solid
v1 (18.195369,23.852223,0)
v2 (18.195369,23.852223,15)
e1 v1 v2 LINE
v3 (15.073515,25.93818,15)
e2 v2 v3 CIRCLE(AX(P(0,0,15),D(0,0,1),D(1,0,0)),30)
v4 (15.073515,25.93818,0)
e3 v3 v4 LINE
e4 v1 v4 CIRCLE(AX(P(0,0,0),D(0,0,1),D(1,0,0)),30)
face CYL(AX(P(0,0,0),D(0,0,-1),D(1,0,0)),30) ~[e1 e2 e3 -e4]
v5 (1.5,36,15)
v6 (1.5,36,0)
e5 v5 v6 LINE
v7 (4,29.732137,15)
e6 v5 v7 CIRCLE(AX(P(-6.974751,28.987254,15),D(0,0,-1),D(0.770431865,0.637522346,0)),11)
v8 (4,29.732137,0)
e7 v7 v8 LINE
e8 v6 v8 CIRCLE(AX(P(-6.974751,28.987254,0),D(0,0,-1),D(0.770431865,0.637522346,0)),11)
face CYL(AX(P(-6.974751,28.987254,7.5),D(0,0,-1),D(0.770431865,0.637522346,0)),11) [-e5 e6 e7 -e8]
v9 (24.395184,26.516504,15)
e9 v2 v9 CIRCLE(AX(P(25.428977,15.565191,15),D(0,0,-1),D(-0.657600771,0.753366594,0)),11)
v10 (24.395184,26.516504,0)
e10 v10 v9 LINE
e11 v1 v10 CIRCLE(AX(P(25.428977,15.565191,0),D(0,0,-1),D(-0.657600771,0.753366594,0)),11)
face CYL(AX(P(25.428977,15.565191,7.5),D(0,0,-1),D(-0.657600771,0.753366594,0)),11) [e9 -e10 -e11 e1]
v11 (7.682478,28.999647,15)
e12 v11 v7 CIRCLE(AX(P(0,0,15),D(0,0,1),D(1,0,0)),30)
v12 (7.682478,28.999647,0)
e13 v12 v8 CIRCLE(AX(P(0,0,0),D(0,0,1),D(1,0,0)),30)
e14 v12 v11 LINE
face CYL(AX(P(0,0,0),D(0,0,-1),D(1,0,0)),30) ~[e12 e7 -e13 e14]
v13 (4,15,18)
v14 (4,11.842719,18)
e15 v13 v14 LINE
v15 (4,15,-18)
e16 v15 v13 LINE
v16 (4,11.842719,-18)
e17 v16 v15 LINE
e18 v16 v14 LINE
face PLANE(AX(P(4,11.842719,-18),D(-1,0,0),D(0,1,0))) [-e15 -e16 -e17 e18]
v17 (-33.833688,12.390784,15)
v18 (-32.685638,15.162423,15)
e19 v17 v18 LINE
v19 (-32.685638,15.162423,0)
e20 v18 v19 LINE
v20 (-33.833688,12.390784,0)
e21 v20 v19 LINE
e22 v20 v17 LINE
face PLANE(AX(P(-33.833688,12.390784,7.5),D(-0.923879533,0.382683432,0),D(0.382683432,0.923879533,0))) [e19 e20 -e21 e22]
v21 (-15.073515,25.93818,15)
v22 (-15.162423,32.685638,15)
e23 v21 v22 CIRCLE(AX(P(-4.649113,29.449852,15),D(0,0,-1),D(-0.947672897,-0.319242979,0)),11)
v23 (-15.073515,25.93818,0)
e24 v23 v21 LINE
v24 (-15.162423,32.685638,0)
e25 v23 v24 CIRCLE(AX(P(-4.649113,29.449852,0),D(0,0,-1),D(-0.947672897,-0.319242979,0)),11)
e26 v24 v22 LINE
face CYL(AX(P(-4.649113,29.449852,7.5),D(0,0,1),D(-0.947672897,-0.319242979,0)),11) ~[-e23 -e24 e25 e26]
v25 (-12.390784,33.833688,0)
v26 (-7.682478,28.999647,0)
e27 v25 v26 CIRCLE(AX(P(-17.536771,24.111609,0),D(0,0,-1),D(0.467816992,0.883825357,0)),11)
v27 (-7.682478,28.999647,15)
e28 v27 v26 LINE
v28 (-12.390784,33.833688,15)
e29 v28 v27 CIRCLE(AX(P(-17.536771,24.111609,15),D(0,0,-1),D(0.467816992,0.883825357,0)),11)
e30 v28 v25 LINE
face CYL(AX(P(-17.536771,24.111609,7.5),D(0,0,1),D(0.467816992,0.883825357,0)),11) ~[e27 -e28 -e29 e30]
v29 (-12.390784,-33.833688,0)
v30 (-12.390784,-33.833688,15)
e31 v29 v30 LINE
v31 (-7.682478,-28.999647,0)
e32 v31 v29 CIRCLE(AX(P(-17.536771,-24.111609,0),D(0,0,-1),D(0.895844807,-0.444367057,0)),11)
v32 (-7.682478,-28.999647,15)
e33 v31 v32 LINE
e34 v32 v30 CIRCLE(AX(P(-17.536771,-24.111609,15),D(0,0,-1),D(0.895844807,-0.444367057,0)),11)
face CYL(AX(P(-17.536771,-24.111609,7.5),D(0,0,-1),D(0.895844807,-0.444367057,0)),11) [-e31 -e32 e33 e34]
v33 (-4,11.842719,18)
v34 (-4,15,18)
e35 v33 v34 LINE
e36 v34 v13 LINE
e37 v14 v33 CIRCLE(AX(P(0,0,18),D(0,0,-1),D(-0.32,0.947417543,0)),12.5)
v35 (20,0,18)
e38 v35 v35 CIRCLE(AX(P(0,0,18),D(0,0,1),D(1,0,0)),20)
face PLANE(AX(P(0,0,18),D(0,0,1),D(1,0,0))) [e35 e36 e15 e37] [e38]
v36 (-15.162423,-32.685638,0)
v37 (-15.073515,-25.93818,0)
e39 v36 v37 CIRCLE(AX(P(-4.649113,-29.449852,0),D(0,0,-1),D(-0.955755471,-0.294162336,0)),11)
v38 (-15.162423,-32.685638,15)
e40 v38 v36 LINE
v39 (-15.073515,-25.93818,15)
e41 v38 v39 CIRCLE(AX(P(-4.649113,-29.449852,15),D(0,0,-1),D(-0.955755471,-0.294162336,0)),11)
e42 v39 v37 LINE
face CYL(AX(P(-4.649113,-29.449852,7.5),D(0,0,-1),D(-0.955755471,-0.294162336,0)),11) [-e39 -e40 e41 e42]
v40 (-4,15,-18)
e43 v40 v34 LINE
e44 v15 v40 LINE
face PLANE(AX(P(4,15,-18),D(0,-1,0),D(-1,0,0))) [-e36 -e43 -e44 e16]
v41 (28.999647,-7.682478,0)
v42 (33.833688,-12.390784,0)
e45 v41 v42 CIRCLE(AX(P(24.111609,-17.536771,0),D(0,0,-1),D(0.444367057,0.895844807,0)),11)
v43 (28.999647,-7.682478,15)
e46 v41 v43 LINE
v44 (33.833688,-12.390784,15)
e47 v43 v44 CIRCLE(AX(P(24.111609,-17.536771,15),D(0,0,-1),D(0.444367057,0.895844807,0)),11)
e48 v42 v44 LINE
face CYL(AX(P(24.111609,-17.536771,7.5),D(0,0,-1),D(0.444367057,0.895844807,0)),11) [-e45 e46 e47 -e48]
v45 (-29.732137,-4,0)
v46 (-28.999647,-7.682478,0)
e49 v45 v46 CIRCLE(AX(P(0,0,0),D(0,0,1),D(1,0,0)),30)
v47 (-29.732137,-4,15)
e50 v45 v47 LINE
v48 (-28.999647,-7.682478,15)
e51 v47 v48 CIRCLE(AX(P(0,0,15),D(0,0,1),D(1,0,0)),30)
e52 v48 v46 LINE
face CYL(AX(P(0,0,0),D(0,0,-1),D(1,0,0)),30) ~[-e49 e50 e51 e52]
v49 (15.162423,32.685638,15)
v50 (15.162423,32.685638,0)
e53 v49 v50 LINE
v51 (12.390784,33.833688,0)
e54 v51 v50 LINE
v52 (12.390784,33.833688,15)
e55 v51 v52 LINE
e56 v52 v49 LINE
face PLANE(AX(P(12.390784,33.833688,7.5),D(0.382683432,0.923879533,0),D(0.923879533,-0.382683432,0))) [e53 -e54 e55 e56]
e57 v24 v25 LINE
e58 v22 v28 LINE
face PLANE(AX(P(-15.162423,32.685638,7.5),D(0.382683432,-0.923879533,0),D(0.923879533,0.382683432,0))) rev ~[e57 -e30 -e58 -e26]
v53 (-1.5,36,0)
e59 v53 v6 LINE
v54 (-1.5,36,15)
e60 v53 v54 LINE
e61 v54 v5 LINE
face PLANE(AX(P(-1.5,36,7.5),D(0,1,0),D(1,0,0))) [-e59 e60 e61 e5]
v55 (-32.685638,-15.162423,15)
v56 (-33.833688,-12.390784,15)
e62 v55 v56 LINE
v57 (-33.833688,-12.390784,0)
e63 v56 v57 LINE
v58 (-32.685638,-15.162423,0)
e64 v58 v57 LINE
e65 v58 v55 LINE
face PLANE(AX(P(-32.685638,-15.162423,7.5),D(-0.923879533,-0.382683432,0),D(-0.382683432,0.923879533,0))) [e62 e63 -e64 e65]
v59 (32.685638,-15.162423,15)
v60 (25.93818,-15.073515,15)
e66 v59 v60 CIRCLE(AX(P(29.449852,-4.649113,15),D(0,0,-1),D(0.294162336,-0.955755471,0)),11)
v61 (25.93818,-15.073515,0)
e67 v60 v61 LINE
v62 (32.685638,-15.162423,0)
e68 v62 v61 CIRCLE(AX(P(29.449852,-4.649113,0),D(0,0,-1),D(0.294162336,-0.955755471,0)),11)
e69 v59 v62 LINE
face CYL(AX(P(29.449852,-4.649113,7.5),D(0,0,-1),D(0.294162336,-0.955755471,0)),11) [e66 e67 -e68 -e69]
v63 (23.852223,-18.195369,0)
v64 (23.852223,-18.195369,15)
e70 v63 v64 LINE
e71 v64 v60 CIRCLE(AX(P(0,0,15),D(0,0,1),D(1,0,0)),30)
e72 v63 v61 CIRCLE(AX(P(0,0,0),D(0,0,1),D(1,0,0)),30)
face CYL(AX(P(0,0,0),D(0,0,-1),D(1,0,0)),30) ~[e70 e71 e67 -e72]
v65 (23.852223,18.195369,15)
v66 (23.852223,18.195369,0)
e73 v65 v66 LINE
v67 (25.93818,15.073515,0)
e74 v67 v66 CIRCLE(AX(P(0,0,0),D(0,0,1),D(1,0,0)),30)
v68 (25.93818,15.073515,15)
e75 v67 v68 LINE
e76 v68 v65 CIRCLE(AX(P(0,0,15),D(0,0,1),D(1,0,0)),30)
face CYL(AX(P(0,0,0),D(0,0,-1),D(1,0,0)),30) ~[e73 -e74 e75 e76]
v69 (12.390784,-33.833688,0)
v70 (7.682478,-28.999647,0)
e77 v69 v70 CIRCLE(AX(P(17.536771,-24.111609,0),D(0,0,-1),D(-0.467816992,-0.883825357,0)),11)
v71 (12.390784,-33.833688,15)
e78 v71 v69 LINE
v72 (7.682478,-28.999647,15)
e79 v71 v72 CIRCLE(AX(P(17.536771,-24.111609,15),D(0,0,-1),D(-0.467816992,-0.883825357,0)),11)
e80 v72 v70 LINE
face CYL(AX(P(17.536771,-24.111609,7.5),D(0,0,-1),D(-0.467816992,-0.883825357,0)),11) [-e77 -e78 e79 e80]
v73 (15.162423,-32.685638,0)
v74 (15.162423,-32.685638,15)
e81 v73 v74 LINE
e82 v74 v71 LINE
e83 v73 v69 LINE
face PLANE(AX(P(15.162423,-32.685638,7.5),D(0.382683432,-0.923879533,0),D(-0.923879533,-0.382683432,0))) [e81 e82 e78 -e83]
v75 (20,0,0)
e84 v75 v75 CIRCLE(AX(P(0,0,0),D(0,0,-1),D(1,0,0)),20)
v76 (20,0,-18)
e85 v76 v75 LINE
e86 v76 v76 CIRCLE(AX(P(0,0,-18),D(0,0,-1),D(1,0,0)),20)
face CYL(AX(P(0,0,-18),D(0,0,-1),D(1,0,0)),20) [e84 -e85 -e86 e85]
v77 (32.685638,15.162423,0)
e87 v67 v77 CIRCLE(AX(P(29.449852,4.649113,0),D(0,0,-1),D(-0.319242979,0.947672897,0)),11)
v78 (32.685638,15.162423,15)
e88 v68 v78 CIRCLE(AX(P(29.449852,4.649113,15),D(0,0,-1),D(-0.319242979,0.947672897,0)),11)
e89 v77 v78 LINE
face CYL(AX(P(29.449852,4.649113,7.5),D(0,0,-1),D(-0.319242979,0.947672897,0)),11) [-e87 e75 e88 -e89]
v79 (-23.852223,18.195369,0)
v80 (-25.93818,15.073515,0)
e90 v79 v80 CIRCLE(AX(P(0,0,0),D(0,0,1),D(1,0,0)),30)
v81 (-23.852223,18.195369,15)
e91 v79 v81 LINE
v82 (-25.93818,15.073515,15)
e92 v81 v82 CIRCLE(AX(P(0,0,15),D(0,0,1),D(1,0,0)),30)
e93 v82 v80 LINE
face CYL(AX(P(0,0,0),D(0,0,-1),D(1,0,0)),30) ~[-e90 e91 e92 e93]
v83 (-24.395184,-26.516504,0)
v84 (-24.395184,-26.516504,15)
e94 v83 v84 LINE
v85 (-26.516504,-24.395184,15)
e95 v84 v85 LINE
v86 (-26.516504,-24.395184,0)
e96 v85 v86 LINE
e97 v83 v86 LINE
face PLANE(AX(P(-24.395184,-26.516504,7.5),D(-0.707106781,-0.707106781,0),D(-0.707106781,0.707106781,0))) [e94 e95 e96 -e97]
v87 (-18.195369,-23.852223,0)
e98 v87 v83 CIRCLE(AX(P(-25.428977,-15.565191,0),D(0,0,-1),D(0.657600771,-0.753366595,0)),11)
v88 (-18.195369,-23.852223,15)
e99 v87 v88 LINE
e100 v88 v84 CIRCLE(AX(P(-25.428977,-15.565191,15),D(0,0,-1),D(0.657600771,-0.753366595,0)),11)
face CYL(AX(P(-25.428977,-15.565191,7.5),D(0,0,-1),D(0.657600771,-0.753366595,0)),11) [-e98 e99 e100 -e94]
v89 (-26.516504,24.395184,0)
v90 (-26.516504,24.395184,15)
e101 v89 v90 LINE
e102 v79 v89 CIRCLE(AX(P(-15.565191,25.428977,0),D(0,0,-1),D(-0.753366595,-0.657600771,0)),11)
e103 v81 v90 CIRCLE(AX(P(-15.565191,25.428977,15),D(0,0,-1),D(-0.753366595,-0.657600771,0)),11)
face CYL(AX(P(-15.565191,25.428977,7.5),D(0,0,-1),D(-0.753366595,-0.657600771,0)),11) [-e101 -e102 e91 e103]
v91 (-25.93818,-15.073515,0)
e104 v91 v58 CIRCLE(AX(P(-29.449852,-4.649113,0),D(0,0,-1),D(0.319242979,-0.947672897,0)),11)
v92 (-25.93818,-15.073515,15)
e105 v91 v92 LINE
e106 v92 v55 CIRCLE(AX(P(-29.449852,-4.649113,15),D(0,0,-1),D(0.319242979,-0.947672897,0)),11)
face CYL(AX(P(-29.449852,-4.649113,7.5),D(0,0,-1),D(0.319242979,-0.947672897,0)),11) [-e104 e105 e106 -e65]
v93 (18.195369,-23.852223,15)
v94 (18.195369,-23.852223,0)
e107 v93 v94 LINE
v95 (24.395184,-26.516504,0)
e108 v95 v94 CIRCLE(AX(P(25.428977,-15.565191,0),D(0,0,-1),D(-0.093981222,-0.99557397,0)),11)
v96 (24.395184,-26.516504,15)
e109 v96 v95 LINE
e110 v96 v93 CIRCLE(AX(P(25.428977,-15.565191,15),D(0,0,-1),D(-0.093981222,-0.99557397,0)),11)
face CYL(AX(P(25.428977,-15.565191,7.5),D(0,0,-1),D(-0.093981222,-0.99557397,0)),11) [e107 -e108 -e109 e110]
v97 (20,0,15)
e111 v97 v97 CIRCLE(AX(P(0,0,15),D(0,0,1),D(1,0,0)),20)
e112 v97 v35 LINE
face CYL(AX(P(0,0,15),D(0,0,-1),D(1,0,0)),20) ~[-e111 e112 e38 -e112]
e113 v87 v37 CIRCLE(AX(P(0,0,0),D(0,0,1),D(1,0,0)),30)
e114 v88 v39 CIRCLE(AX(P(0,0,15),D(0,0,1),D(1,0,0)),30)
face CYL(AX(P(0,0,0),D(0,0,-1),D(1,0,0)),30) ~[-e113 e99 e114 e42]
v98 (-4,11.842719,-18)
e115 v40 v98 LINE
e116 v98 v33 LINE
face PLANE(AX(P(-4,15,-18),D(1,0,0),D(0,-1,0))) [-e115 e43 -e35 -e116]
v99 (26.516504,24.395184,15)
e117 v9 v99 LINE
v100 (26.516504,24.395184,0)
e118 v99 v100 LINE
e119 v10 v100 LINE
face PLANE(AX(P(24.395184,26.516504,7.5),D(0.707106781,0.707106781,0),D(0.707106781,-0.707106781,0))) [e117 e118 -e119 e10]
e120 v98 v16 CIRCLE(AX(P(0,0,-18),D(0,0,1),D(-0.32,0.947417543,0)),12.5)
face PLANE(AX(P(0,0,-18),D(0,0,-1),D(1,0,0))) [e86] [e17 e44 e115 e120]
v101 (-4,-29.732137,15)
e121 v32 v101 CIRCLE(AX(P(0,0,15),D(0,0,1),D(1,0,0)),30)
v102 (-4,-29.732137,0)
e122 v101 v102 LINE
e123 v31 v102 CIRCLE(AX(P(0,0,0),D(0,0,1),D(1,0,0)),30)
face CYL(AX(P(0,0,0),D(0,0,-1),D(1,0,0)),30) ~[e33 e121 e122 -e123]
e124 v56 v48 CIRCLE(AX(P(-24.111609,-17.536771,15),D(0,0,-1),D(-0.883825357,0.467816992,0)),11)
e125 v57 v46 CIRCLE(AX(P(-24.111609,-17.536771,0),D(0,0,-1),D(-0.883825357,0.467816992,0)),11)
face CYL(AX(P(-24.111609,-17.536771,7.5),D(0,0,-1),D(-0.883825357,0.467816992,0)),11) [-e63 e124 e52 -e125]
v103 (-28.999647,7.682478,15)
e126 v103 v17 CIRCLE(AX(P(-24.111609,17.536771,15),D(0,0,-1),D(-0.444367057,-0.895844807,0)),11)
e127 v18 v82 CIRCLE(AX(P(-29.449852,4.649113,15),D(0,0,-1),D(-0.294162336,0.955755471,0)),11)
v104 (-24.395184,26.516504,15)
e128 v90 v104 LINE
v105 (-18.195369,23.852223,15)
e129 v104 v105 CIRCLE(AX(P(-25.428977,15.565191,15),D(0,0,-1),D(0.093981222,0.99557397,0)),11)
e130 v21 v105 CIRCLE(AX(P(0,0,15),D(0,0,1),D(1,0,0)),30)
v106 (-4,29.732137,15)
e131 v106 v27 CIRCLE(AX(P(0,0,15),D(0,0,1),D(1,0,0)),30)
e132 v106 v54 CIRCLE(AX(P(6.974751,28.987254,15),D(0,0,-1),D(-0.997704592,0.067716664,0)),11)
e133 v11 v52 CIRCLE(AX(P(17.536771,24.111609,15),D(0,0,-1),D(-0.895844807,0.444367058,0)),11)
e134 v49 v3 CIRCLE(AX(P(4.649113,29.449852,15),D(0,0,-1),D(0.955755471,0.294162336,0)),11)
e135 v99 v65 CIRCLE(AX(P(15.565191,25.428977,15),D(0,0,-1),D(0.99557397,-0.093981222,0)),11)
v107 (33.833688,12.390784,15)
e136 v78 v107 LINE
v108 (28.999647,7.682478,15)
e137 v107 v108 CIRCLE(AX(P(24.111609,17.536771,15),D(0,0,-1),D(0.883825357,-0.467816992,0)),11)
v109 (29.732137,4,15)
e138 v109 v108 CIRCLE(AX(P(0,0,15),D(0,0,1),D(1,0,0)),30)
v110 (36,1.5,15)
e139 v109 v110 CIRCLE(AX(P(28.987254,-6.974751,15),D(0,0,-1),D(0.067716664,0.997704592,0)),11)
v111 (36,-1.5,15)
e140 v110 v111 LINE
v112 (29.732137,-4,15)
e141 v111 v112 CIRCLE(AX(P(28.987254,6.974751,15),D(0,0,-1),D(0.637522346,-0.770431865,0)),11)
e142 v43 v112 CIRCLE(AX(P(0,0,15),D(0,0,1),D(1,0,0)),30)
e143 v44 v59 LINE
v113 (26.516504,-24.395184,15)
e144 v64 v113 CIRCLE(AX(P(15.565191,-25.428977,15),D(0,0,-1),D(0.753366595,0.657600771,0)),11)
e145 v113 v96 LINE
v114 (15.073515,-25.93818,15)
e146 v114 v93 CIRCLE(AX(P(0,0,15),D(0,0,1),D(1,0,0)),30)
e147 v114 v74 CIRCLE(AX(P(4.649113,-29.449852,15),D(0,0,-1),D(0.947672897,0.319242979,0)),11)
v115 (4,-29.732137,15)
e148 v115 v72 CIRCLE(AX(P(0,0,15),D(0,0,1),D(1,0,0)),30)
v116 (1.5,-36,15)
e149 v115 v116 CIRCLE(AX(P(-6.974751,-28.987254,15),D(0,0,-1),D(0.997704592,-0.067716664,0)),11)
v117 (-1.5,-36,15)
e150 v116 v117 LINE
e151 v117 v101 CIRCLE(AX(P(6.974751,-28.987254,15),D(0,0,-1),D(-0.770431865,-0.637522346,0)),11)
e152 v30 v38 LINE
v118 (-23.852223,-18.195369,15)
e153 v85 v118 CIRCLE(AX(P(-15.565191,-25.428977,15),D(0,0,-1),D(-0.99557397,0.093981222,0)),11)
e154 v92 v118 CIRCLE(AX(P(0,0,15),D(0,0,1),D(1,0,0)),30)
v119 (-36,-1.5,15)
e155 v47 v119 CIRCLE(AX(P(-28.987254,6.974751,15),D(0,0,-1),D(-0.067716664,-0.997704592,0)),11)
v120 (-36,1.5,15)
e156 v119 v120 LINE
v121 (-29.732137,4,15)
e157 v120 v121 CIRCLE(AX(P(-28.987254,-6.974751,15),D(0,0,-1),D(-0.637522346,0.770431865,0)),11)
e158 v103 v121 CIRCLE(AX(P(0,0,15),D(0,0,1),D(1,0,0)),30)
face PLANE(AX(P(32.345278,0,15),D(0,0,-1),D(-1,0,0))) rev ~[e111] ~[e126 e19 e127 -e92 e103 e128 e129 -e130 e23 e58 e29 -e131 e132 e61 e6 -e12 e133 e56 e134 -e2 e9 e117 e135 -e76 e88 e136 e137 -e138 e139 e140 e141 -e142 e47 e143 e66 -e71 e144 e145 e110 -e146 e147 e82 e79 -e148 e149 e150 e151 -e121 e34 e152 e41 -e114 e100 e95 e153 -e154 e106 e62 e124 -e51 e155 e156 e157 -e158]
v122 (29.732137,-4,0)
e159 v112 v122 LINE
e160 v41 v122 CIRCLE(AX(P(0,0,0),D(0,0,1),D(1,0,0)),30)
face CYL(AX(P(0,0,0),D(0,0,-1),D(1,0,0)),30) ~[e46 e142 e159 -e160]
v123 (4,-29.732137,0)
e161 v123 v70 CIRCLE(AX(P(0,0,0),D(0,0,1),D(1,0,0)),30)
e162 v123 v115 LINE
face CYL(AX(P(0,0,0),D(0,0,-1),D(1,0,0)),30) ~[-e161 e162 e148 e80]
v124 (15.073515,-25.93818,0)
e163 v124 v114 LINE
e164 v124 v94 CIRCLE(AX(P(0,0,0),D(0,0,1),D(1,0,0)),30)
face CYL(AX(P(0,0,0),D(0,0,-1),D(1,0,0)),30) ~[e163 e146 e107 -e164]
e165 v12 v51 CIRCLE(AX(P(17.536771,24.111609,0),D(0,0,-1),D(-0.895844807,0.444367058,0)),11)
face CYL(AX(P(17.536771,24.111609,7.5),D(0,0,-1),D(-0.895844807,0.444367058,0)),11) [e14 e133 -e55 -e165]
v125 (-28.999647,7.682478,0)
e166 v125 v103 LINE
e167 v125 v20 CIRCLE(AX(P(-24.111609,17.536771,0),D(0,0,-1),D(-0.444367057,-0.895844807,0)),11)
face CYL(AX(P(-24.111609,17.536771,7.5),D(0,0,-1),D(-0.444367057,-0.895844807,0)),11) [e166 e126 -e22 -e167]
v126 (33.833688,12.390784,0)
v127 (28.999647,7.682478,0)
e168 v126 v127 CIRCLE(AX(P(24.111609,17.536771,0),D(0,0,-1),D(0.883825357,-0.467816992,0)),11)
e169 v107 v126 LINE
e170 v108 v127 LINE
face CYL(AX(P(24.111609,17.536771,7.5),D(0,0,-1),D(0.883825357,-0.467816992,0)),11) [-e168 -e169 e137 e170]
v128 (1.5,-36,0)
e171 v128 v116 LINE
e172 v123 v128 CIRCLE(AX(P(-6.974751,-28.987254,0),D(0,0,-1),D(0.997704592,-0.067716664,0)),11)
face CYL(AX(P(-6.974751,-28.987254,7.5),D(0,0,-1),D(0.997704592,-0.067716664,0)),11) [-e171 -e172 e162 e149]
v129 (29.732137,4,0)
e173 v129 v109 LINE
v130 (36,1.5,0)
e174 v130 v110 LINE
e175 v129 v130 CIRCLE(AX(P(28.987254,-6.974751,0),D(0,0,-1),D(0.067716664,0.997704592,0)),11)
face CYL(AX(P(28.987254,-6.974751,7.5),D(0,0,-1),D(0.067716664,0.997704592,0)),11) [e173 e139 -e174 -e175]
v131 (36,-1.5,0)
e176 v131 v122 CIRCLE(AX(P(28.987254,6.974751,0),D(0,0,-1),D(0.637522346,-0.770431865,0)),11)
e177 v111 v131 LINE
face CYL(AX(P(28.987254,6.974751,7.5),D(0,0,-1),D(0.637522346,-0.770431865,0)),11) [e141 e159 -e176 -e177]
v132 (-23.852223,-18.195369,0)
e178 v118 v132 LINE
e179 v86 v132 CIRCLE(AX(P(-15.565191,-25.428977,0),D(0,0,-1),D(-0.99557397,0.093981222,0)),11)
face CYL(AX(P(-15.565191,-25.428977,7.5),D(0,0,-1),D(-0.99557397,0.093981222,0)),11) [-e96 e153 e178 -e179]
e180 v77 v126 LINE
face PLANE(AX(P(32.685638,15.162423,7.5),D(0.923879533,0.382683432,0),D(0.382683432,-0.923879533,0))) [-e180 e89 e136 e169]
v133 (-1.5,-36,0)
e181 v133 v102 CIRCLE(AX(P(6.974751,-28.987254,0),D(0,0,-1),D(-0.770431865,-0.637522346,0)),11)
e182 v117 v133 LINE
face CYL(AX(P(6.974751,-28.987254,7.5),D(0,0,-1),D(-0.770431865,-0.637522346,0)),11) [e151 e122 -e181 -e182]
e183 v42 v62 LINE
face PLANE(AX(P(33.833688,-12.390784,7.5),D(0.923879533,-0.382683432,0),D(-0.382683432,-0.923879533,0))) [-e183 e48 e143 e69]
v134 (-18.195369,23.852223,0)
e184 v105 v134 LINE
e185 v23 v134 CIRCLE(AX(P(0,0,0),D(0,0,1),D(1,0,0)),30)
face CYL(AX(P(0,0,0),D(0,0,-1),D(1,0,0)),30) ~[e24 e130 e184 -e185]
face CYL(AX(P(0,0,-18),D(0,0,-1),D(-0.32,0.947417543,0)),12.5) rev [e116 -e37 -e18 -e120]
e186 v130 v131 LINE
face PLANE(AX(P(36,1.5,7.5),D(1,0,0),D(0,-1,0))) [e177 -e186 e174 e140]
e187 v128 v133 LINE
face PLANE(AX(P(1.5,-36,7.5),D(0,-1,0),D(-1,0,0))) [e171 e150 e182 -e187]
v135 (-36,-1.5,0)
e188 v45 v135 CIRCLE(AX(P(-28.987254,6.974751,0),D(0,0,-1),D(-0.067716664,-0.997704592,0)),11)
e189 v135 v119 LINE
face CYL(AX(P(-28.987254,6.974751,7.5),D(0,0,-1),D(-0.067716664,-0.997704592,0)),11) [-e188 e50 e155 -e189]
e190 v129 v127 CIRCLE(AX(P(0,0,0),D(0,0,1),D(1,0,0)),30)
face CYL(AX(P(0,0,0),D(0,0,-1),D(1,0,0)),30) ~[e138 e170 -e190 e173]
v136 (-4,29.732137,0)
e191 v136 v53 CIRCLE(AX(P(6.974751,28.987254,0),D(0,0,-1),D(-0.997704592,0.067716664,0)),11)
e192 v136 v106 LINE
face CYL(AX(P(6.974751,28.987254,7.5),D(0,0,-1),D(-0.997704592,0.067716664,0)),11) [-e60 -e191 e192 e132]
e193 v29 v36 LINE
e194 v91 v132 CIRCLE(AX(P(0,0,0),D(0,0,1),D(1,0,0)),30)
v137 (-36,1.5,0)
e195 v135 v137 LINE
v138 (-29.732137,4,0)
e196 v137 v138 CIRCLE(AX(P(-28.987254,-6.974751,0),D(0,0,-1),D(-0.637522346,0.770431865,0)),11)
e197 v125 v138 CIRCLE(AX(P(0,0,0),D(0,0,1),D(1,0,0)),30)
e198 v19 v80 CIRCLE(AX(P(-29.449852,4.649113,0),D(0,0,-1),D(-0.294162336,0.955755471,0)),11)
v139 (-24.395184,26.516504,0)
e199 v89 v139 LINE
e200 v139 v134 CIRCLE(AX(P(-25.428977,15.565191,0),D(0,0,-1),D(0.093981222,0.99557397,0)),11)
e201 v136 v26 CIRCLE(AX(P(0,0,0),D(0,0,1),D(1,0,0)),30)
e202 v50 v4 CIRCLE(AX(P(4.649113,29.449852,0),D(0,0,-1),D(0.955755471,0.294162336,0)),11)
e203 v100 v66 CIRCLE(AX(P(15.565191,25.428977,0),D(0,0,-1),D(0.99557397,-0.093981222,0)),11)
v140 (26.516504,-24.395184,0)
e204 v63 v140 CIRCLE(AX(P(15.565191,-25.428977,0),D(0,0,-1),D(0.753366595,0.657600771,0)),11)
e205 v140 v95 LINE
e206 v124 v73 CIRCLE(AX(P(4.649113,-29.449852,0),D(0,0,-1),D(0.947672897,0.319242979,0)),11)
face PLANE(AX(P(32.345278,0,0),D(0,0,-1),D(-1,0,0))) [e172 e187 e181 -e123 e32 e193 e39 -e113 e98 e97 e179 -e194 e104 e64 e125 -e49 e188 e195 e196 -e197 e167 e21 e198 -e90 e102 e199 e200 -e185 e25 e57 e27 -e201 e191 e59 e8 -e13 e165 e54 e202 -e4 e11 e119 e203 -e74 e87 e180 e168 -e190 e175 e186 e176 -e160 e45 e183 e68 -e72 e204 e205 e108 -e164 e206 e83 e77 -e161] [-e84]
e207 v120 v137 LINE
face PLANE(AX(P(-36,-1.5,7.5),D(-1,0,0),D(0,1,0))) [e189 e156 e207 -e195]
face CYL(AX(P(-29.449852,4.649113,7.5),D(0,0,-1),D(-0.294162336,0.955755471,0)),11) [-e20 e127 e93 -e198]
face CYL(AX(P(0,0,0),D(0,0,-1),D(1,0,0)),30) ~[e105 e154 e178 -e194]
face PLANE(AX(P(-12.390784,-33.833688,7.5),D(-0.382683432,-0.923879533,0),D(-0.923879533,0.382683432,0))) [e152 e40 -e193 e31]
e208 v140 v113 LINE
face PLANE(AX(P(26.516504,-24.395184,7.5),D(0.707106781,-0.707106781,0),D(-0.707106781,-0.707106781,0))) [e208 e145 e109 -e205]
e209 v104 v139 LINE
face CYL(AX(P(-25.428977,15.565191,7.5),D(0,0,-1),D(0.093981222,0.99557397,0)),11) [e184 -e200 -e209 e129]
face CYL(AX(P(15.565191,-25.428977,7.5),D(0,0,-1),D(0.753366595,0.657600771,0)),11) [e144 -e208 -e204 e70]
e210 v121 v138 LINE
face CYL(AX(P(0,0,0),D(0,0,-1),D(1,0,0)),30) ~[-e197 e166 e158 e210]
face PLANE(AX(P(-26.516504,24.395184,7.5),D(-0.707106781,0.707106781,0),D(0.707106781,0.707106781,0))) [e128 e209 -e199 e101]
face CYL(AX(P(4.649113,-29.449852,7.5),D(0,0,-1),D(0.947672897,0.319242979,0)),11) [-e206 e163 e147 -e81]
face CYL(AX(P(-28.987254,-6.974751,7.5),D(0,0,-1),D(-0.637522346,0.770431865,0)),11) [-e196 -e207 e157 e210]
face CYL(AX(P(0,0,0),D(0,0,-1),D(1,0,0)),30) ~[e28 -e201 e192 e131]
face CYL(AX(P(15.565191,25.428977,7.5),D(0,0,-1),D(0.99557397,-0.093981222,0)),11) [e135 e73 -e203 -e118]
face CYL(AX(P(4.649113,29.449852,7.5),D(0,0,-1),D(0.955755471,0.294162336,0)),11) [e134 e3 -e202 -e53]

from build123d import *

# Parameters (mm, degrees)
SKETCH1_R           = 30
BOSS_EXTRUDE1_DEPTH = 15
SKETCH2_R           = 20
BOSS_EXTRUDE2_DEPTH = 3
BOSS_EXTRUDE3_START = 18
SKETCH3_R           = 20
BOSS_EXTRUDE3_DEPTH = 18
CUT_EXTRUDE1_DEPTH  = 56.641710973
BOSS_EXTRUDE5_DEPTH = 7.5


with BuildPart() as part:
    # Sketch1 → Boss-Extrude1 (new body)
    with BuildSketch(Plane.XY):
        Circle(SKETCH1_R)
    extrude(amount=BOSS_EXTRUDE1_DEPTH)

    # Sketch2 → Boss-Extrude2 (add)
    with BuildSketch(Plane.XY.offset(15)):
        Circle(SKETCH2_R)
    extrude(amount=BOSS_EXTRUDE2_DEPTH)

    # Sketch3 → Boss-Extrude3 (add)
    with BuildSketch(Plane(origin=(0, 0, 0), x_dir=(-1, 0, 0), z_dir=(0, 0, -1)).offset(BOSS_EXTRUDE3_START)):
        with Locations(Location((0, 0, 0), (0, 0, 180))):
            Circle(SKETCH3_R)
    extrude(amount=-BOSS_EXTRUDE3_DEPTH)

    # Sketch4 → Cut-Extrude1 (cut, through all)
    with BuildSketch(Plane(origin=(0, 0, -18), x_dir=(-1, 0, 0), z_dir=(0, 0, -1))):
        with BuildLine():
            Line((-4, 15), (4, 15))
            Line((4, 15), (4, 11.842719282))
            ThreePointArc((4, 11.842719282), (0, -12.5), (-4, 11.842719282))
            Line((-4, 11.842719282), (-4, 15))
        make_face()
    extrude(amount=-CUT_EXTRUDE1_DEPTH, mode=Mode.SUBTRACT)

    # Sketch5 → Boss-Extrude5 (add, symmetric)
    with BuildSketch(Plane.XY.offset(7.5)):
        with BuildLine():
            Line((-1.5, 36), (1.5, 36))
            ThreePointArc((1.5, 36), (3.242504384, 33.062509074), (4, 29.732137495))
            ThreePointArc((4, 29.732137495), (0, 30), (-4, 29.732137495))
            ThreePointArc((-4, 29.732137495), (-3.242504384, 33.062509074), (-1.5, 36))
        make_face()
        with BuildLine():
            Line((12.390784266, 33.833688319), (15.162422864, 32.685638022))
            ThreePointArc((15.162422864, 32.685638022), (15.64815789, 29.30492272), (15.073514558, 25.93817956))
            ThreePointArc((15.073514558, 25.93817956), (11.480502971, 27.716385975), (7.682478298, 28.999647019))
            ThreePointArc((7.682478298, 28.999647019), (9.656791021, 31.786628134), (12.390784266, 33.833688319))
        make_face()
        with BuildLine():
            Line((24.395183951, 26.516504294), (26.516504295, 24.395183951))
            ThreePointArc((26.516504295, 24.395183951), (25.671521208, 21.085927531), (23.852223166, 18.195368917))
            ThreePointArc((23.852223166, 18.195368917), (21.213203436, 21.213203436), (18.195368917, 23.852223166))
            ThreePointArc((18.195368917, 23.852223166), (21.085927531, 25.671521208), (24.395183951, 26.516504294))
        make_face()
        with BuildLine():
            Line((32.685638022, 15.162422864), (33.833688319, 12.390784266))
            ThreePointArc((33.833688319, 12.390784266), (31.786628135, 9.656791021), (28.999647019, 7.682478298))
            ThreePointArc((28.999647019, 7.682478298), (27.716385975, 11.480502971), (25.93817956, 15.073514558))
            ThreePointArc((25.93817956, 15.073514558), (29.30492272, 15.64815789), (32.685638022, 15.162422864))
        make_face()
        with BuildLine():
            Line((36, 1.5), (36, -1.5))
            ThreePointArc((36, -1.5), (33.062509074, -3.242504384), (29.732137495, -4))
            ThreePointArc((29.732137495, -4), (30, 0), (29.732137495, 4))
            ThreePointArc((29.732137495, 4), (33.062509074, 3.242504384), (36, 1.5))
        make_face()
        with BuildLine():
            Line((33.833688319, -12.390784266), (32.685638022, -15.162422864))
            ThreePointArc((32.685638022, -15.162422864), (29.30492272, -15.64815789), (25.93817956, -15.073514558))
            ThreePointArc((25.93817956, -15.073514558), (27.716385975, -11.480502971), (28.999647019, -7.682478298))
            ThreePointArc((28.999647019, -7.682478298), (31.786628135, -9.656791021), (33.833688319, -12.390784266))
        make_face()
        with BuildLine():
            Line((26.516504295, -24.395183951), (24.395183951, -26.516504295))
            ThreePointArc((24.395183951, -26.516504295), (21.085927531, -25.671521208), (18.195368917, -23.852223166))
            ThreePointArc((18.195368917, -23.852223166), (21.213203436, -21.213203436), (23.852223166, -18.195368917))
            ThreePointArc((23.852223166, -18.195368917), (25.671521208, -21.085927531), (26.516504295, -24.395183951))
        make_face()
        with BuildLine():
            Line((15.162422864, -32.685638022), (12.390784266, -33.833688319))
            ThreePointArc((12.390784266, -33.833688319), (9.656791021, -31.786628135), (7.682478298, -28.999647019))
            ThreePointArc((7.682478298, -28.999647019), (11.480502971, -27.716385975), (15.073514558, -25.93817956))
            ThreePointArc((15.073514558, -25.93817956), (15.64815789, -29.30492272), (15.162422864, -32.685638022))
        make_face()
        with BuildLine():
            Line((1.5, -36), (-1.5, -36))
            ThreePointArc((-1.5, -36), (-3.242504384, -33.062509074), (-4, -29.732137495))
            ThreePointArc((-4, -29.732137495), (0, -30), (4, -29.732137495))
            ThreePointArc((4, -29.732137495), (3.242504384, -33.062509074), (1.5, -36))
        make_face()
        with BuildLine():
            Line((-12.390784266, -33.833688319), (-15.162422864, -32.685638022))
            ThreePointArc((-15.162422864, -32.685638022), (-15.64815789, -29.30492272), (-15.073514558, -25.93817956))
            ThreePointArc((-15.073514558, -25.93817956), (-11.480502971, -27.716385975), (-7.682478298, -28.999647019))
            ThreePointArc((-7.682478298, -28.999647019), (-9.656791021, -31.786628135), (-12.390784266, -33.833688319))
        make_face()
        with BuildLine():
            Line((-24.395183951, -26.516504295), (-26.516504295, -24.395183951))
            ThreePointArc((-26.516504295, -24.395183951), (-25.671521208, -21.085927531), (-23.852223166, -18.195368917))
            ThreePointArc((-23.852223166, -18.195368917), (-21.213203436, -21.213203436), (-18.195368917, -23.852223166))
            ThreePointArc((-18.195368917, -23.852223166), (-21.085927531, -25.671521208), (-24.395183951, -26.516504295))
        make_face()
        with BuildLine():
            Line((-32.685638022, -15.162422864), (-33.833688319, -12.390784266))
            ThreePointArc((-33.833688319, -12.390784266), (-31.786628135, -9.656791021), (-28.999647019, -7.682478298))
            ThreePointArc((-28.999647019, -7.682478298), (-27.716385975, -11.480502971), (-25.93817956, -15.073514558))
            ThreePointArc((-25.93817956, -15.073514558), (-29.30492272, -15.64815789), (-32.685638022, -15.162422864))
        make_face()
        with BuildLine():
            Line((-36, -1.5), (-36, 1.5))
            ThreePointArc((-36, 1.5), (-33.062509074, 3.242504384), (-29.732137495, 4))
            ThreePointArc((-29.732137495, 4), (-30, 0), (-29.732137495, -4))
            ThreePointArc((-29.732137495, -4), (-33.062509074, -3.242504384), (-36, -1.5))
        make_face()
        with BuildLine():
            Line((-33.833688319, 12.390784266), (-32.685638022, 15.162422864))
            ThreePointArc((-32.685638022, 15.162422864), (-29.30492272, 15.64815789), (-25.93817956, 15.073514558))
            ThreePointArc((-25.93817956, 15.073514558), (-27.716385975, 11.480502971), (-28.999647019, 7.682478298))
            ThreePointArc((-28.999647019, 7.682478298), (-31.786628135, 9.656791021), (-33.833688319, 12.390784266))
        make_face()
        with BuildLine():
            Line((-26.516504295, 24.395183951), (-24.395183951, 26.516504294))
            ThreePointArc((-24.395183951, 26.516504294), (-21.085927531, 25.671521208), (-18.195368917, 23.852223166))
            ThreePointArc((-18.195368917, 23.852223166), (-21.213203436, 21.213203436), (-23.852223166, 18.195368917))
            ThreePointArc((-23.852223166, 18.195368917), (-25.671521208, 21.085927531), (-26.516504295, 24.395183951))
        make_face()
        with BuildLine():
            Line((-15.162422864, 32.685638022), (-12.390784266, 33.833688319))
            ThreePointArc((-12.390784266, 33.833688319), (-9.656791021, 31.786628134), (-7.682478298, 28.999647019))
            ThreePointArc((-7.682478298, 28.999647019), (-11.480502971, 27.716385975), (-15.073514558, 25.93817956))
            ThreePointArc((-15.073514558, 25.93817956), (-15.64815789, 29.30492272), (-15.162422864, 32.685638022))
        make_face()
    extrude(amount=BOSS_EXTRUDE5_DEPTH, both=True)


solid = part.part
